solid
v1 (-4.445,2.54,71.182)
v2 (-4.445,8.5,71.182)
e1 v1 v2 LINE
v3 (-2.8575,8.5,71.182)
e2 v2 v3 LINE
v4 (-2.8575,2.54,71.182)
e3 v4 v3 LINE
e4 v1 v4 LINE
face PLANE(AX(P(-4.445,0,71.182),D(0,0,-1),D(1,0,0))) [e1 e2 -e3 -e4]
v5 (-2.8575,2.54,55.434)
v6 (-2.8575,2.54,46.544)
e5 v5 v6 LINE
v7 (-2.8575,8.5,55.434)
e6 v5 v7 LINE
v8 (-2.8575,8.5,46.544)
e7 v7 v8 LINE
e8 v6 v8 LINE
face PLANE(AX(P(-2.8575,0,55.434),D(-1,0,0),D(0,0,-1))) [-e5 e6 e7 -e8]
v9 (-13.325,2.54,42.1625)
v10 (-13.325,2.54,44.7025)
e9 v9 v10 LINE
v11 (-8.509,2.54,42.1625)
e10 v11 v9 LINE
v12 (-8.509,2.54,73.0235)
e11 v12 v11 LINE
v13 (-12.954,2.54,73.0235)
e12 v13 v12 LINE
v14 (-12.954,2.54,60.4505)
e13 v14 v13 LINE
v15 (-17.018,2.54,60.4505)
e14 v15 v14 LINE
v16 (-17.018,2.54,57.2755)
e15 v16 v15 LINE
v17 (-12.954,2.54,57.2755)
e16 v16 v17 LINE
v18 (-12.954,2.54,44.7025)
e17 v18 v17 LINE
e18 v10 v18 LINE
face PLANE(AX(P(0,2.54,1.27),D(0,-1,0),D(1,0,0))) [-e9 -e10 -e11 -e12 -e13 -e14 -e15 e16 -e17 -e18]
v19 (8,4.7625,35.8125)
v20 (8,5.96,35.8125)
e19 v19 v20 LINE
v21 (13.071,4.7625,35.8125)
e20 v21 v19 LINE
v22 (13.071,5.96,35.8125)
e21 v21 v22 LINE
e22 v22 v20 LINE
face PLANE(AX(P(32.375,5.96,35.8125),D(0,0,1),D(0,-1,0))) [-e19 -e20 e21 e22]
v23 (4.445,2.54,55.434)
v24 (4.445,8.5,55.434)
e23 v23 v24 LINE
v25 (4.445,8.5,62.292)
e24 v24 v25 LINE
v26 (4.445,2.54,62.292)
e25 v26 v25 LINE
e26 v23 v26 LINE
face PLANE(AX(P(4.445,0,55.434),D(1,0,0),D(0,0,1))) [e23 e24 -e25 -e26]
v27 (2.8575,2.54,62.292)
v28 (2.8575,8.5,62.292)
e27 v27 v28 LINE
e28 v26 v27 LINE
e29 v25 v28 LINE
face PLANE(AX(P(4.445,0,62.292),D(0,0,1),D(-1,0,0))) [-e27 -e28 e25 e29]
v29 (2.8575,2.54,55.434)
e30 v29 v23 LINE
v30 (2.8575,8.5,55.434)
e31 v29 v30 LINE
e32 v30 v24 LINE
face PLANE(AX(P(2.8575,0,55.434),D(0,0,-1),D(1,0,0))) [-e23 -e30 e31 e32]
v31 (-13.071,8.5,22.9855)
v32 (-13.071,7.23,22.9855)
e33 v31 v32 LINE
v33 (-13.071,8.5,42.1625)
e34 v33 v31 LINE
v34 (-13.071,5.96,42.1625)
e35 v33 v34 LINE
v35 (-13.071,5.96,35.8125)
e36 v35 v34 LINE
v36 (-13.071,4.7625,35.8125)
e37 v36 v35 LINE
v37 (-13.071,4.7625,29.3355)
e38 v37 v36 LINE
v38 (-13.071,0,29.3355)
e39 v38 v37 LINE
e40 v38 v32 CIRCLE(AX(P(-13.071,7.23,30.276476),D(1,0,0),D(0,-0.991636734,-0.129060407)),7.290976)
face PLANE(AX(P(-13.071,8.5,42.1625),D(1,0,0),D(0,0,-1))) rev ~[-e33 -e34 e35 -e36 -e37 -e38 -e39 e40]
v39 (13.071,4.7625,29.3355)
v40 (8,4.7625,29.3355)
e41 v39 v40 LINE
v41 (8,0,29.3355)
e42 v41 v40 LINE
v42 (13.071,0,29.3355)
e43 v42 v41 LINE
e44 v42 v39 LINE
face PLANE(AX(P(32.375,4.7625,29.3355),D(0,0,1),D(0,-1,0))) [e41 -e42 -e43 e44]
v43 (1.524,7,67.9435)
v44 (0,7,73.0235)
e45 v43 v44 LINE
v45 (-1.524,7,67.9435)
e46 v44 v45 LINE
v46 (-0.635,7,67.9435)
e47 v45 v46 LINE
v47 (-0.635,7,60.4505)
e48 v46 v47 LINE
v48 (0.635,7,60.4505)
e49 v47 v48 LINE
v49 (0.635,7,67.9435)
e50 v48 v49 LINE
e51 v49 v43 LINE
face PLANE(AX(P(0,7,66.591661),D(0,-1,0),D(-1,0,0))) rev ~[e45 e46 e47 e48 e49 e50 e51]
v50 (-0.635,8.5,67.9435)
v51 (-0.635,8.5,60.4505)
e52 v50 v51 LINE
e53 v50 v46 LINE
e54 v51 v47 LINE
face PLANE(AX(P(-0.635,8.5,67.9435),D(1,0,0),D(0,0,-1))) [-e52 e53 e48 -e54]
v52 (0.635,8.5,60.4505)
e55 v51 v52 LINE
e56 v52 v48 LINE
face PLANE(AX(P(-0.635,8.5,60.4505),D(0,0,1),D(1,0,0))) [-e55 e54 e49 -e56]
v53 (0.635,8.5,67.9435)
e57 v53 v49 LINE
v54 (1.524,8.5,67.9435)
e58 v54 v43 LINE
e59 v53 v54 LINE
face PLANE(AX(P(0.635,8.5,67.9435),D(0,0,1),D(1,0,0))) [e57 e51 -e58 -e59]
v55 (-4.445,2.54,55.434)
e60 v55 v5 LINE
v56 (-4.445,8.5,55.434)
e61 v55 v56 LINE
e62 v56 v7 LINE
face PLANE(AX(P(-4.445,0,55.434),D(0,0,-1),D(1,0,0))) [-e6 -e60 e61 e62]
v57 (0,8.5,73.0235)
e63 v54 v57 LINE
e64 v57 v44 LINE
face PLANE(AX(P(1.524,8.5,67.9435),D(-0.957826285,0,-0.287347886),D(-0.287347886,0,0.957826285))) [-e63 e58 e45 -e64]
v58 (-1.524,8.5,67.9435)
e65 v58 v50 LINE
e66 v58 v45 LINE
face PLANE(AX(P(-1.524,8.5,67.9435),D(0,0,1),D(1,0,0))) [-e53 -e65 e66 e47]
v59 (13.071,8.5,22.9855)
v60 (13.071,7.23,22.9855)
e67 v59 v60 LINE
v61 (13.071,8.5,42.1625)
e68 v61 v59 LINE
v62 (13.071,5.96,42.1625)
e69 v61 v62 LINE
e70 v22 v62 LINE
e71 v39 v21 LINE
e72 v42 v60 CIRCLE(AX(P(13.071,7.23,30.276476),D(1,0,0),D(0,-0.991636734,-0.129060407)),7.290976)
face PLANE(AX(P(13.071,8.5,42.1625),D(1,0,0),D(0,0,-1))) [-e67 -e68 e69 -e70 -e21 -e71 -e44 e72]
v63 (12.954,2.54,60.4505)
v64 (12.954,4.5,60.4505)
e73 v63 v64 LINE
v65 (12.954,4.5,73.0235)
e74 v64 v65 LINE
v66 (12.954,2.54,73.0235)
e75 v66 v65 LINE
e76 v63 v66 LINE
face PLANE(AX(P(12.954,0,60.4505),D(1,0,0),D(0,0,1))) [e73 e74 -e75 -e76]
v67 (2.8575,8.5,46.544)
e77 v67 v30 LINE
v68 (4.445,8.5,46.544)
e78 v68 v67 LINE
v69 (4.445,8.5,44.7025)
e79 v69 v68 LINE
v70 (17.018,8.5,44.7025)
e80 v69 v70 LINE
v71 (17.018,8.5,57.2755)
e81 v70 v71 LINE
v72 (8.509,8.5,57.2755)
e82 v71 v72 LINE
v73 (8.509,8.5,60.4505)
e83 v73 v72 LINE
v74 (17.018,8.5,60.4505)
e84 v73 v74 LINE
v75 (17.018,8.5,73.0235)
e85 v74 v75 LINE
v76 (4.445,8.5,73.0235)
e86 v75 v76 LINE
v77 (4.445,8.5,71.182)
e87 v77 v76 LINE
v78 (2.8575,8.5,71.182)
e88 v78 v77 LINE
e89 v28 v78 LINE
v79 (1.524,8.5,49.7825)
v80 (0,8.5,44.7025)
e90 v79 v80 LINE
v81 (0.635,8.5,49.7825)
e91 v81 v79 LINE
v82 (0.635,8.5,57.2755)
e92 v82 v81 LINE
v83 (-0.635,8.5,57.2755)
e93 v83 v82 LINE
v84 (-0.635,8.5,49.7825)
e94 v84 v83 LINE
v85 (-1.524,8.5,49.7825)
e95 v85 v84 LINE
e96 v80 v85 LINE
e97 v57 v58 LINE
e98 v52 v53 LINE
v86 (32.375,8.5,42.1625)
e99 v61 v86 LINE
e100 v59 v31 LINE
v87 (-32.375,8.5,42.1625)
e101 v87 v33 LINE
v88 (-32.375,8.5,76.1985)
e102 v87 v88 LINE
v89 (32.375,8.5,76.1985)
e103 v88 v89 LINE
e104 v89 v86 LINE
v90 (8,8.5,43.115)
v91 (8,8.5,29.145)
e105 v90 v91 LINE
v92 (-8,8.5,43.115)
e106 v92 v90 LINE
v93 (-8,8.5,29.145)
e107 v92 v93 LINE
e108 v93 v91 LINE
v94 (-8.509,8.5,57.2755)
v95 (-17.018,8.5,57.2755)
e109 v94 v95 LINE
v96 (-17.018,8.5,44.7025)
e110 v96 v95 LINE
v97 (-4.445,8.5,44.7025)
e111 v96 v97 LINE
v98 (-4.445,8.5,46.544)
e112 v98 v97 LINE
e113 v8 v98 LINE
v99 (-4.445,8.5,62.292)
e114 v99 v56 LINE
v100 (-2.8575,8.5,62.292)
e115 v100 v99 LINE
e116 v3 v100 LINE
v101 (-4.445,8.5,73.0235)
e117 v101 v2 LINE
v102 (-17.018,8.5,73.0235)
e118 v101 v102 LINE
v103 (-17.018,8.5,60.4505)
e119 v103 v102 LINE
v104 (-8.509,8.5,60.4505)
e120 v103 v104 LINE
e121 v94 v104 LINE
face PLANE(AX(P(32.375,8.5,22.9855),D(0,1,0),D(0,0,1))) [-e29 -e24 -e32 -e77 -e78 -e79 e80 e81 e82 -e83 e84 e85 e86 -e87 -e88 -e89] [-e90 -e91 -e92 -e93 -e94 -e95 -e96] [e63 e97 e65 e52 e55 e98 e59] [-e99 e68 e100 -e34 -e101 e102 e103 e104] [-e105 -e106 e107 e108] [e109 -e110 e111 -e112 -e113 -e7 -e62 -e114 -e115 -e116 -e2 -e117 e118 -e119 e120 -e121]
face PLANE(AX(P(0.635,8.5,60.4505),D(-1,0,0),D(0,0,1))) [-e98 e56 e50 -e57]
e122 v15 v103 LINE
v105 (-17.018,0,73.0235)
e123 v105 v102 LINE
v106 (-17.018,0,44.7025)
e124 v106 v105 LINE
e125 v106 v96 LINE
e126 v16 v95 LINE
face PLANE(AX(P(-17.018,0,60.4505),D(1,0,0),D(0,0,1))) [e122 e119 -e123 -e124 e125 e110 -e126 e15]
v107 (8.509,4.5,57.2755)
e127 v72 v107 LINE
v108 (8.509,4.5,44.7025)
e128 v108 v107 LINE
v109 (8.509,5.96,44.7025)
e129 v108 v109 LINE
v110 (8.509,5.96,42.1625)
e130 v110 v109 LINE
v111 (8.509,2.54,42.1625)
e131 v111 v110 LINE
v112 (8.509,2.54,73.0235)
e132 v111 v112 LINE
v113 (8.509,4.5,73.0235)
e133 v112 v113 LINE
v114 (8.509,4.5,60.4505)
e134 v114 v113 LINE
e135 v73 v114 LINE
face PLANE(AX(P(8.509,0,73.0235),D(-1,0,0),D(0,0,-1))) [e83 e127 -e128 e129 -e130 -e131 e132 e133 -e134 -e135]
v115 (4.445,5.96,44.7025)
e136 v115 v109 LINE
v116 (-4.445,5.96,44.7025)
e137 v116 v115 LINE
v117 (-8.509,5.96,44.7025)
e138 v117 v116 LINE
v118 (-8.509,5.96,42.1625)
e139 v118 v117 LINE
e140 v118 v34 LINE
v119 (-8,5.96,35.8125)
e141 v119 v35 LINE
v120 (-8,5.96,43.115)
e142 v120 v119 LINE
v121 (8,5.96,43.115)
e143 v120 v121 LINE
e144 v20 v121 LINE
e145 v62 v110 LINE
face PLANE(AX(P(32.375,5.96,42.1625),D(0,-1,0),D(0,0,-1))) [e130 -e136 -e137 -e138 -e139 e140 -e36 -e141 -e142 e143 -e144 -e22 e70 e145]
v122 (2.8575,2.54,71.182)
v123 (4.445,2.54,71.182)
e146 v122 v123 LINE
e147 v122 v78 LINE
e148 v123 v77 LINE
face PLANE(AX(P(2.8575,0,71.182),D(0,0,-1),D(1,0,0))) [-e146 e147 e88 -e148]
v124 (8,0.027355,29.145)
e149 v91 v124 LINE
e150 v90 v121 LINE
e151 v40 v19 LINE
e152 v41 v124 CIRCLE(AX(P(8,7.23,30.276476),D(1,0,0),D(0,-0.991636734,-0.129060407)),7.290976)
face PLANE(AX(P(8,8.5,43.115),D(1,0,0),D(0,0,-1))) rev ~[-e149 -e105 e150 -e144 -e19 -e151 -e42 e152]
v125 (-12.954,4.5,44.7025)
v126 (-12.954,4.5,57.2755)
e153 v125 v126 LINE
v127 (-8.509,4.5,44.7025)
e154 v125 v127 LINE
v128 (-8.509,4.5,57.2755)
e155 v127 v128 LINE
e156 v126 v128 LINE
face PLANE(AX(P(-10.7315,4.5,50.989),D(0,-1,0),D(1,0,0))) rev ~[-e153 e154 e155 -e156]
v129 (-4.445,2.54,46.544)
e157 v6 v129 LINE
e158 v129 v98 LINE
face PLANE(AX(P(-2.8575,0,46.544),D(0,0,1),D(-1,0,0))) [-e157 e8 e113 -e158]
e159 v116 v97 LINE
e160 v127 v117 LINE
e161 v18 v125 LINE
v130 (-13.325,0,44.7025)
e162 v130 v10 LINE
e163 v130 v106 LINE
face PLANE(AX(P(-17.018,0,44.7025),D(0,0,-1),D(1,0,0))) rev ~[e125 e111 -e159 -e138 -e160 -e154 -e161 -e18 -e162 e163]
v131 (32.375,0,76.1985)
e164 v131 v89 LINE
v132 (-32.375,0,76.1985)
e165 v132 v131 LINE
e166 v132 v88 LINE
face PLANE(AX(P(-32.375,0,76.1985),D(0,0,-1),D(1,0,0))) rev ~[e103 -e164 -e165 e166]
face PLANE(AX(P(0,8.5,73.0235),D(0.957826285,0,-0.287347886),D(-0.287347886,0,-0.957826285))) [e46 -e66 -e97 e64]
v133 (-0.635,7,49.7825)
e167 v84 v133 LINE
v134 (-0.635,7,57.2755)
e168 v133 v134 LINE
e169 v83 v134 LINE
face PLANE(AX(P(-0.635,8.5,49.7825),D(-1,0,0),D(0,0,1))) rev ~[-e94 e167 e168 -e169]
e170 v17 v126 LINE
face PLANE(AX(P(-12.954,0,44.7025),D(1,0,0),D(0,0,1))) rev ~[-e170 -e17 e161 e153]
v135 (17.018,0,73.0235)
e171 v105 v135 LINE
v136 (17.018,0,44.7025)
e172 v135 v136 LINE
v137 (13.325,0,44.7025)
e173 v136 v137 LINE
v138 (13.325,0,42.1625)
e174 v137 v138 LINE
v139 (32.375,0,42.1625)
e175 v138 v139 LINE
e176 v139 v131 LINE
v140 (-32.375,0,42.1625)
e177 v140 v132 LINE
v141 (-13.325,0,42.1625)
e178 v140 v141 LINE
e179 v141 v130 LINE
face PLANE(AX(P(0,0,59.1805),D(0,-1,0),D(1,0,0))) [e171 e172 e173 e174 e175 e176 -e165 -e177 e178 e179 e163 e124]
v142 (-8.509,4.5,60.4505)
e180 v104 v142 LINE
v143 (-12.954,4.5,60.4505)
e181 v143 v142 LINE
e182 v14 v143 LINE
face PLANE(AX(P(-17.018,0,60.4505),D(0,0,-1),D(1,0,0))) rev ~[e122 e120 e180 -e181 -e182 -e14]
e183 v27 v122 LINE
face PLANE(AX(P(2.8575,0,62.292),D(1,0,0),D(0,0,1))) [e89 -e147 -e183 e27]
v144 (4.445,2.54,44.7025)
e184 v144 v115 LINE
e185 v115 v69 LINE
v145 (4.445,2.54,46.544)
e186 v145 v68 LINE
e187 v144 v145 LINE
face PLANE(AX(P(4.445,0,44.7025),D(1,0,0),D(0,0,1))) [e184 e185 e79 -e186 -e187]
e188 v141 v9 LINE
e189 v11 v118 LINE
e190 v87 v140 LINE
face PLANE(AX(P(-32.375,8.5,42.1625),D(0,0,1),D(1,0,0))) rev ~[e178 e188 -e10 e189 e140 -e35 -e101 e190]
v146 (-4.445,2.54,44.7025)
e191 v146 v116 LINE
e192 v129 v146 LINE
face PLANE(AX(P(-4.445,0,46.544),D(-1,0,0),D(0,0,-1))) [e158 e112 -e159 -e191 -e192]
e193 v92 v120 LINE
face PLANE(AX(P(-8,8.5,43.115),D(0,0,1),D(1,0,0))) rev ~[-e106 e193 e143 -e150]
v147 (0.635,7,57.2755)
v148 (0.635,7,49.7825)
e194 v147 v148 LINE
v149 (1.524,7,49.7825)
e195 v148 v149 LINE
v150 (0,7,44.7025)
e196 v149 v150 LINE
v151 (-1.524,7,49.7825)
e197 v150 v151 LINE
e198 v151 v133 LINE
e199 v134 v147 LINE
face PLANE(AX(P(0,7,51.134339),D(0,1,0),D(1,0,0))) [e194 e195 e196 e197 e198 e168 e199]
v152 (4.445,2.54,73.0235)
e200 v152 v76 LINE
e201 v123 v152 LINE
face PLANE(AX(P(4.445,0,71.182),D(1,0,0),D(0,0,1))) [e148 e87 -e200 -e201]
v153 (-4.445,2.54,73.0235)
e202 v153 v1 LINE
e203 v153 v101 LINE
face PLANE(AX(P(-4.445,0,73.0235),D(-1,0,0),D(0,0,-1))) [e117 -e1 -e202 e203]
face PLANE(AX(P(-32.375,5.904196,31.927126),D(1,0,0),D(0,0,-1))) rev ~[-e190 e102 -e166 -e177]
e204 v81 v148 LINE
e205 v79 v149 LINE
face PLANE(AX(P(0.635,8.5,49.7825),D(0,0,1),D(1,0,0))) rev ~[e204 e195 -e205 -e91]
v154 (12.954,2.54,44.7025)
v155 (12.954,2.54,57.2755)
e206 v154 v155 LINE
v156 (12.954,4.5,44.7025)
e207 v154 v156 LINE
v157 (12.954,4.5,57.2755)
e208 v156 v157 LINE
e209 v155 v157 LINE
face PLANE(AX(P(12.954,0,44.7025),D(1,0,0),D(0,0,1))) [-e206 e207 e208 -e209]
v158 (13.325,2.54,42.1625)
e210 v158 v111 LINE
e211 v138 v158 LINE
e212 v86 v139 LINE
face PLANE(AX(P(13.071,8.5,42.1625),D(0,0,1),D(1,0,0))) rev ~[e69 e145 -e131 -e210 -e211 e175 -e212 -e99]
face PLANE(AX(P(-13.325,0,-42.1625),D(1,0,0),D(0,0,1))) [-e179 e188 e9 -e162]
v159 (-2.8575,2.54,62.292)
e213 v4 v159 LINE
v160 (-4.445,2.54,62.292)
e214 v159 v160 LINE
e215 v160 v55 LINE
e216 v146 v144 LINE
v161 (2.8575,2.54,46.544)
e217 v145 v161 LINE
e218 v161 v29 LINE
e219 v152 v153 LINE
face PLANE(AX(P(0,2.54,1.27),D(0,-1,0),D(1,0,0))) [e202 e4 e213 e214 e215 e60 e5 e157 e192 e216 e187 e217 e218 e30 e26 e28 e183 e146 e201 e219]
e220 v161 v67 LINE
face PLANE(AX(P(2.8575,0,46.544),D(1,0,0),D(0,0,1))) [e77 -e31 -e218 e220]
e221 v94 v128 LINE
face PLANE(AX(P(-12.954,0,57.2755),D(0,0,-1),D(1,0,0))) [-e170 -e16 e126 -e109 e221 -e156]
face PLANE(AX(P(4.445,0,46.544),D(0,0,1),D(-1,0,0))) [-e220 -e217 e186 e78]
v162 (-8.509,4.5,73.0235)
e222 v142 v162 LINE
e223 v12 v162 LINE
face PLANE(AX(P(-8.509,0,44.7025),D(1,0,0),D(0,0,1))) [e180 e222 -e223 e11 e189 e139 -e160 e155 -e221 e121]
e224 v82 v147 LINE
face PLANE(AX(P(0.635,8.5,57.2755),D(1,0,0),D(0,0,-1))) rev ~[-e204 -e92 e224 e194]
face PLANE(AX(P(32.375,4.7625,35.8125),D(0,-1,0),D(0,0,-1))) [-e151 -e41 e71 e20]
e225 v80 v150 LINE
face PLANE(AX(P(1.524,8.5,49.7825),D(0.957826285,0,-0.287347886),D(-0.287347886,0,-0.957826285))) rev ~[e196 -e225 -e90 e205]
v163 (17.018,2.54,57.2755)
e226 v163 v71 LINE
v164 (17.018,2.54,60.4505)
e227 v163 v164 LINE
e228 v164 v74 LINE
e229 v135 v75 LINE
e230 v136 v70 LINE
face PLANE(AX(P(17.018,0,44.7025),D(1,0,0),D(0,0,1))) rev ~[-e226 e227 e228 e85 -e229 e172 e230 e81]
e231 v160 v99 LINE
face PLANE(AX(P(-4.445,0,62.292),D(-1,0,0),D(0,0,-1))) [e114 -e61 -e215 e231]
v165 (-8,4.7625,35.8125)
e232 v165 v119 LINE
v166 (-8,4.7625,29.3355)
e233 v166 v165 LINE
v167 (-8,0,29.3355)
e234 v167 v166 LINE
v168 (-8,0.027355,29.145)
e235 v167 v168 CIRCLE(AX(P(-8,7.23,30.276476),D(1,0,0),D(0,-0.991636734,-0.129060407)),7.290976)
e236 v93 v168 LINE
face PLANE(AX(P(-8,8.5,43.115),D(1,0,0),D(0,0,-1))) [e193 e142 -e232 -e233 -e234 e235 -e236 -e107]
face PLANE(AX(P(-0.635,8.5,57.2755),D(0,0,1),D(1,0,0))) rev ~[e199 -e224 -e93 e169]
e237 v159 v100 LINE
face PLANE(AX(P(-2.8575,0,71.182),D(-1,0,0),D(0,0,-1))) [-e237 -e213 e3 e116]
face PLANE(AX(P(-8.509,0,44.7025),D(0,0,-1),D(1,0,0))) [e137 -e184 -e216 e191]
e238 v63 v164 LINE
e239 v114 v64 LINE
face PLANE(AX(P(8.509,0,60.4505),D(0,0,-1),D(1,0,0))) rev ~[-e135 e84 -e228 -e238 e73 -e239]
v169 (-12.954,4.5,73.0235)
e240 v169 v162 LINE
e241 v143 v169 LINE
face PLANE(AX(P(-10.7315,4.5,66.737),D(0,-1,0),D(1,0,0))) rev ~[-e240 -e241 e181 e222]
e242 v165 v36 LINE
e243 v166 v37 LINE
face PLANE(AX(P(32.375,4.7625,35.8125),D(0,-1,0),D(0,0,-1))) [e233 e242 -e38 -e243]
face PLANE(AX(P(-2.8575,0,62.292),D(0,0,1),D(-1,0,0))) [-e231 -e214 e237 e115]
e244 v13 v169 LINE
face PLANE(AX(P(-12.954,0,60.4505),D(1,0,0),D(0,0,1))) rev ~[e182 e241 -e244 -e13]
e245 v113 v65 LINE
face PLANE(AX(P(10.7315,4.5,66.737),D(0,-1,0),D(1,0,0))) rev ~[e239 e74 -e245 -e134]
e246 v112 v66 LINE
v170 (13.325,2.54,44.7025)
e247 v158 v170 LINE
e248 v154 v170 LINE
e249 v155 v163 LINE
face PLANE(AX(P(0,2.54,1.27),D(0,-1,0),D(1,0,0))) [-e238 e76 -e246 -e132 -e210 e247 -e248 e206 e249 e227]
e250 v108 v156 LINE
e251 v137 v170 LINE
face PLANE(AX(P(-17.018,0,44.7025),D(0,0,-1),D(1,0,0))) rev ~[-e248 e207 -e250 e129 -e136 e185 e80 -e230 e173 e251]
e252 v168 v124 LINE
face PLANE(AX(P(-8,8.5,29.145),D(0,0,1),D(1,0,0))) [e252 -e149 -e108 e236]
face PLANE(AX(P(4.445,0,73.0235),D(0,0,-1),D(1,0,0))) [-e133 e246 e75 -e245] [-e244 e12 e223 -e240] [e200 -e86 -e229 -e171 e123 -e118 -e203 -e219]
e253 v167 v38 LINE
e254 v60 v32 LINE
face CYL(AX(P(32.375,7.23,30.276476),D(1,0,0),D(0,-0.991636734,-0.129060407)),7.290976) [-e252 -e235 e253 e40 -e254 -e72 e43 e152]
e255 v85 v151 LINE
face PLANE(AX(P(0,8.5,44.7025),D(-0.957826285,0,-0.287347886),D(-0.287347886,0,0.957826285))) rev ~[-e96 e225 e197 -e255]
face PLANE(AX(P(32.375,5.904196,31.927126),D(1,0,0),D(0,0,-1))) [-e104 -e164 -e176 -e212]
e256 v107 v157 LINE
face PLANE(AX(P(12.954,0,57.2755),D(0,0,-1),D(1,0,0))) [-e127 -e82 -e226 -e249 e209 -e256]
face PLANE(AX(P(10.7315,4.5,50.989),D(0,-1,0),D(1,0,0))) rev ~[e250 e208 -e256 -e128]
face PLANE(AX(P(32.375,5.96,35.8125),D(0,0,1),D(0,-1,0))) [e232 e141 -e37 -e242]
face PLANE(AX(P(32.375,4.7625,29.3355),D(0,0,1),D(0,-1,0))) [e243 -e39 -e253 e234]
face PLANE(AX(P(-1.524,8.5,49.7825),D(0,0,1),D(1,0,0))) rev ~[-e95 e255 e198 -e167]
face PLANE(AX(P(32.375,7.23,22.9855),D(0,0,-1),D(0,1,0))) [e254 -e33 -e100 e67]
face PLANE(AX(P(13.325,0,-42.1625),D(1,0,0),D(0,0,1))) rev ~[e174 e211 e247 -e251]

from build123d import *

# Parameters (mm, degrees)
SKETCH1_W               = 64.75
SKETCH1_H               = 84.325
SKETCH1_R               = 1.35
BOSS_EXTRUDE1_DEPTH     = 25.4
CUT_EXTRUDE1_DEPTH      = 65.75
SKETCH5_W               = 58.925
SKETCH5_H               = 20.6375
CUT_EXTRUDE3_DEPTH      = 65.75
BOSS_EXTRUDE2_START     = 4.7625
SKETCH1_3_W             = 6.75
SKETCH1_3_H             = 6.75
SKETCH1_3_R             = 1.35
SKETCH1_3_H_2           = 3.175
BOSS_EXTRUDE2_DEPTH     = 6.35
SKETCH7_W               = 26.65
SKETCH7_H               = 58.925
CUT_EXTRUDE6_DEPTH      = 13.7
CUT_EXTRUDE6_DEPTH_BACK = 13.7
SKETCH8_W               = 64.75
SKETCH8_H               = 34.036
SKETCH8_W_2             = 4.064
SKETCH8_H_2             = 12.573
BOSS_EXTRUDE3_DEPTH     = 8.5
CUT_EXTRUDE7_START      = -8.5
SKETCH8_3_W             = 4.445
SKETCH8_3_H             = 12.573
CUT_EXTRUDE7_DEPTH      = 4
SKETCH8_4_W             = 4.445
SKETCH8_4_H             = 12.573
CUT_EXTRUDE8_DEPTH      = 2.54
SKETCH9_W               = 26.65
SKETCH9_H               = 86.865
SKETCH9_W_2             = 8.509
SKETCH9_H_2             = 3.175
CUT_EXTRUDE9_DEPTH      = 2.54
CUT_EXTRUDE10_DEPTH     = 1.5
SKETCH11_W              = 64.75
SKETCH11_H              = 84.325
CUT_EXTRUDE11_DEPTH     = 26.4
BOSS_EXTRUDE4_DEPTH     = 64.75
SKETCH15_W              = 19.304
SKETCH15_H              = 19.177
SKETCH15_W_2            = 16
SKETCH15_H_2            = 13.97
CUT_EXTRUDE12_DEPTH     = 9.5
SKETCH17_W              = 17.018
SKETCH17_H              = 2.54
CUT_EXTRUDE13_DEPTH     = 5.96


with BuildPart() as part:
    # Sketch1 → Boss-Extrude1 (new body)
    with BuildSketch(Plane(origin=(0, 0, 0), x_dir=(1, 0, 0), z_dir=(0, 1, 0))):
        Rectangle(SKETCH1_W, SKETCH1_H)
        with Locations((-29, 10.2125)):
            Circle(SKETCH1_R, mode=Mode.SUBTRACT)
        with Locations((-29, -38.7875)):
            Circle(SKETCH1_R, mode=Mode.SUBTRACT)
        with Locations((29, 10.2125)):
            Circle(SKETCH1_R, mode=Mode.SUBTRACT)
        with Locations((29, -38.7875)):
            Circle(SKETCH1_R, mode=Mode.SUBTRACT)
    extrude(amount=BOSS_EXTRUDE1_DEPTH)

    # Sketch3 → Cut-Extrude1 (cut, through all)
    with BuildSketch(Plane(origin=(32.375, 0, 0), x_dir=(0, 0, -1), z_dir=(1, 0, 0))):
        Polygon((42.1625, 18.034), (23.1125, 18.669), (23.1125, 12.7), (42.1625, 12.7), align=None)
    extrude(amount=-CUT_EXTRUDE1_DEPTH, mode=Mode.SUBTRACT)

    # Sketch5 → Cut-Extrude3 (cut, through all)
    with BuildSketch(Plane(origin=(32.375, 0, 0), x_dir=(0, 0, -1), z_dir=(1, 0, 0))):
        with Locations((-12.7, 15.08125)):
            Rectangle(SKETCH5_W, SKETCH5_H)
    extrude(amount=-CUT_EXTRUDE3_DEPTH, mode=Mode.SUBTRACT)

    # Sketch1<3> → Boss-Extrude2 (add)
    with BuildSketch(Plane(origin=(0, 0, 0), x_dir=(1, 0, 0), z_dir=(0, 1, 0)).offset(BOSS_EXTRUDE2_START)):
        with Locations((29, -38.7875)):
            Rectangle(SKETCH1_3_W, SKETCH1_3_H)
        with Locations((29, -38.7875)):
            Circle(SKETCH1_3_R, mode=Mode.SUBTRACT)
        with Locations((-29, -38.7875)):
            Rectangle(SKETCH1_3_W, SKETCH1_3_H)
        with Locations((-29, -38.7875)):
            Circle(SKETCH1_3_R, mode=Mode.SUBTRACT)
        with Locations((-29, 10.2125)):
            Rectangle(SKETCH1_3_W, SKETCH1_3_H)
        with Locations((-29, 10.2125)):
            Circle(SKETCH1_3_R, mode=Mode.SUBTRACT)
        with Locations((29, 10.2125)):
            Rectangle(SKETCH1_3_W, SKETCH1_3_H)
        with Locations((29, 10.2125)):
            Circle(SKETCH1_3_R, mode=Mode.SUBTRACT)
        with Locations((-29, 15.175)):
            Rectangle(SKETCH1_3_W, SKETCH1_3_H_2)
        with Locations((29, 15.175)):
            Rectangle(SKETCH1_3_W, SKETCH1_3_H_2)
    extrude(amount=BOSS_EXTRUDE2_DEPTH)

    # Sketch7 → Cut-Extrude6 (cut, two sides)
    with BuildSketch(Plane(origin=(0, 12.7, 0), x_dir=(1, 0, 0), z_dir=(0, 1, 0))) as cut_extrude6_sk:
        Rectangle(SKETCH7_W, SKETCH7_H)
    extrude(amount=CUT_EXTRUDE6_DEPTH, mode=Mode.SUBTRACT)
    extrude(cut_extrude6_sk.sketch, amount=-CUT_EXTRUDE6_DEPTH_BACK, mode=Mode.SUBTRACT)

    # Sketch8 → Boss-Extrude3 (add)
    with BuildSketch(Plane.XZ):
        with Locations((0, 59.1805)):
            Rectangle(SKETCH8_W, SKETCH8_H)
        with Locations((-14.986, 50.989)):
            Rectangle(SKETCH8_W_2, SKETCH8_H_2, mode=Mode.SUBTRACT)
        with Locations((-14.986, 66.737)):
            Rectangle(SKETCH8_W_2, SKETCH8_H_2, mode=Mode.SUBTRACT)
        Polygon((-8.509, 73.0235), (-4.445, 73.0235), (-4.445, 71.182), (-2.8575, 71.182), (-2.8575, 62.292), (-4.445, 62.292), (-4.445, 55.434), (-2.8575, 55.434), (-2.8575, 46.544), (-4.445, 46.544), (-4.445, 44.7025), (-8.509, 44.7025), align=None, mode=Mode.SUBTRACT)
        Polygon((4.445, 73.0235), (8.509, 73.0235), (8.509, 44.7025), (4.445, 44.7025), (4.445, 46.544), (2.8575, 46.544), (2.8575, 55.434), (4.445, 55.434), (4.445, 62.292), (2.8575, 62.292), (2.8575, 71.182), (4.445, 71.182), align=None, mode=Mode.SUBTRACT)
        with Locations((14.986, 66.737)):
            Rectangle(SKETCH8_W_2, SKETCH8_H_2, mode=Mode.SUBTRACT)
        with Locations((14.986, 50.989)):
            Rectangle(SKETCH8_W_2, SKETCH8_H_2, mode=Mode.SUBTRACT)
    extrude(amount=-BOSS_EXTRUDE3_DEPTH)

    # Sketch8<3> → Cut-Extrude7 (cut)
    with BuildSketch(Plane.XZ.offset(CUT_EXTRUDE7_START)):
        with Locations((-10.7315, 50.989)):
            Rectangle(SKETCH8_3_W, SKETCH8_3_H)
        with Locations((10.7315, 50.989)):
            Rectangle(SKETCH8_3_W, SKETCH8_3_H)
        with Locations((-10.7315, 66.737)):
            Rectangle(SKETCH8_3_W, SKETCH8_3_H)
        with Locations((10.7315, 66.737)):
            Rectangle(SKETCH8_3_W, SKETCH8_3_H)
    extrude(amount=CUT_EXTRUDE7_DEPTH, mode=Mode.SUBTRACT)

    # Sketch8<4> → Cut-Extrude8 (cut)
    with BuildSketch(Plane.XZ):
        with Locations((10.7315, 50.989)):
            Rectangle(SKETCH8_4_W, SKETCH8_4_H)
        with Locations((-10.7315, 50.989)):
            Rectangle(SKETCH8_4_W, SKETCH8_4_H)
        with Locations((10.7315, 66.737)):
            Rectangle(SKETCH8_4_W, SKETCH8_4_H)
        with Locations((-10.7315, 66.737)):
            Rectangle(SKETCH8_4_W, SKETCH8_4_H)
        Polygon((-4.445, 46.544), (-4.445, 44.7025), (4.445, 44.7025), (4.445, 46.544), (2.8575, 46.544), (2.8575, 49.084), (2.8575, 52.894), (2.8575, 55.434), (4.445, 55.434), (4.445, 57.2755), (4.445, 60.4505), (4.445, 62.292), (2.8575, 62.292), (2.8575, 64.832), (2.8575, 68.642), (2.8575, 71.182), (4.445, 71.182), (4.445, 73.0235), (-4.445, 73.0235), (-4.445, 71.182), (-2.8575, 71.182), (-2.8575, 68.642), (-2.8575, 64.832), (-2.8575, 62.292), (-4.445, 62.292), (-4.445, 60.4505), (-4.445, 57.2755), (-4.445, 55.434), (-2.8575, 55.434), (-2.8575, 52.894), (-2.8575, 49.084), (-2.8575, 46.544), align=None)
    extrude(amount=-CUT_EXTRUDE8_DEPTH, mode=Mode.SUBTRACT)

    # Sketch9 → Cut-Extrude9 (cut)
    with BuildSketch(Plane.XZ):
        with Locations((0, 1.27)):
            Rectangle(SKETCH9_W, SKETCH9_H)
        with Locations((-12.7635, 58.863)):
            Rectangle(SKETCH9_W_2, SKETCH9_H_2)
        with Locations((12.7635, 58.863)):
            Rectangle(SKETCH9_W_2, SKETCH9_H_2)
    extrude(amount=-CUT_EXTRUDE9_DEPTH, mode=Mode.SUBTRACT)

    # Sketch10 → Cut-Extrude10 (cut)
    with BuildSketch(Plane(origin=(0, 8.5, 0), x_dir=(1, 0, 0), z_dir=(0, 1, 0))):
        Polygon((-0.635, -57.2755), (0.635, -57.2755), (0.635, -49.7825), (1.524, -49.7825), (0, -44.7025), (-1.524, -49.7825), (-0.635, -49.7825), align=None)
        Polygon((-0.635, -67.9435), (-0.635, -60.4505), (0.635, -60.4505), (0.635, -67.9435), (1.524, -67.9435), (0, -73.0235), (-1.524, -67.9435), align=None)
    extrude(amount=-CUT_EXTRUDE10_DEPTH, mode=Mode.SUBTRACT)

    # Sketch11 → Cut-Extrude11 (cut, through all)
    with BuildSketch(Plane.XZ):
        Rectangle(SKETCH11_W, SKETCH11_H)
    extrude(amount=-CUT_EXTRUDE11_DEPTH, mode=Mode.SUBTRACT)

    # Sketch14 → Boss-Extrude4 (add)
    with BuildSketch(Plane(origin=(32.375, 0, 0), x_dir=(0, 0, -1), z_dir=(1, 0, 0))):
        with BuildLine():
            Line((-22.9855, 8.5), (-42.1625, 8.5))
            Line((-42.1625, 8.5), (-42.1625, 5.96))
            Line((-42.1625, 5.96), (-35.8125, 5.96))
            Line((-35.8125, 5.96), (-35.8125, 4.7625))
            Line((-35.8125, 4.7625), (-29.3355, 4.7625))
            Line((-29.3355, 4.7625), (-29.3355, 0))
            ThreePointArc((-29.3355, 0), (-24.798384872, 2.418674819), (-22.9855, 7.23))
            Line((-22.9855, 7.23), (-22.9855, 8.5))
        make_face()
    extrude(amount=-BOSS_EXTRUDE4_DEPTH)

    # Sketch15 → Cut-Extrude12 (cut, through all)
    with BuildSketch(Plane(origin=(0, 8.5, 0), x_dir=(1, 0, 0), z_dir=(0, 1, 0))):
        with Locations((-22.723, -32.574)):
            Rectangle(SKETCH15_W, SKETCH15_H)
        with Locations((0, -36.13)):
            Rectangle(SKETCH15_W_2, SKETCH15_H_2)
        with Locations((22.723, -32.574)):
            Rectangle(SKETCH15_W, SKETCH15_H)
    extrude(amount=-CUT_EXTRUDE12_DEPTH, mode=Mode.SUBTRACT)

    # Sketch17 → Cut-Extrude13 (cut)
    with BuildSketch(Plane.XZ):
        with Locations((0, 43.4325)):
            Rectangle(SKETCH17_W, SKETCH17_H)
    extrude(amount=-CUT_EXTRUDE13_DEPTH, mode=Mode.SUBTRACT)


solid = part.part
